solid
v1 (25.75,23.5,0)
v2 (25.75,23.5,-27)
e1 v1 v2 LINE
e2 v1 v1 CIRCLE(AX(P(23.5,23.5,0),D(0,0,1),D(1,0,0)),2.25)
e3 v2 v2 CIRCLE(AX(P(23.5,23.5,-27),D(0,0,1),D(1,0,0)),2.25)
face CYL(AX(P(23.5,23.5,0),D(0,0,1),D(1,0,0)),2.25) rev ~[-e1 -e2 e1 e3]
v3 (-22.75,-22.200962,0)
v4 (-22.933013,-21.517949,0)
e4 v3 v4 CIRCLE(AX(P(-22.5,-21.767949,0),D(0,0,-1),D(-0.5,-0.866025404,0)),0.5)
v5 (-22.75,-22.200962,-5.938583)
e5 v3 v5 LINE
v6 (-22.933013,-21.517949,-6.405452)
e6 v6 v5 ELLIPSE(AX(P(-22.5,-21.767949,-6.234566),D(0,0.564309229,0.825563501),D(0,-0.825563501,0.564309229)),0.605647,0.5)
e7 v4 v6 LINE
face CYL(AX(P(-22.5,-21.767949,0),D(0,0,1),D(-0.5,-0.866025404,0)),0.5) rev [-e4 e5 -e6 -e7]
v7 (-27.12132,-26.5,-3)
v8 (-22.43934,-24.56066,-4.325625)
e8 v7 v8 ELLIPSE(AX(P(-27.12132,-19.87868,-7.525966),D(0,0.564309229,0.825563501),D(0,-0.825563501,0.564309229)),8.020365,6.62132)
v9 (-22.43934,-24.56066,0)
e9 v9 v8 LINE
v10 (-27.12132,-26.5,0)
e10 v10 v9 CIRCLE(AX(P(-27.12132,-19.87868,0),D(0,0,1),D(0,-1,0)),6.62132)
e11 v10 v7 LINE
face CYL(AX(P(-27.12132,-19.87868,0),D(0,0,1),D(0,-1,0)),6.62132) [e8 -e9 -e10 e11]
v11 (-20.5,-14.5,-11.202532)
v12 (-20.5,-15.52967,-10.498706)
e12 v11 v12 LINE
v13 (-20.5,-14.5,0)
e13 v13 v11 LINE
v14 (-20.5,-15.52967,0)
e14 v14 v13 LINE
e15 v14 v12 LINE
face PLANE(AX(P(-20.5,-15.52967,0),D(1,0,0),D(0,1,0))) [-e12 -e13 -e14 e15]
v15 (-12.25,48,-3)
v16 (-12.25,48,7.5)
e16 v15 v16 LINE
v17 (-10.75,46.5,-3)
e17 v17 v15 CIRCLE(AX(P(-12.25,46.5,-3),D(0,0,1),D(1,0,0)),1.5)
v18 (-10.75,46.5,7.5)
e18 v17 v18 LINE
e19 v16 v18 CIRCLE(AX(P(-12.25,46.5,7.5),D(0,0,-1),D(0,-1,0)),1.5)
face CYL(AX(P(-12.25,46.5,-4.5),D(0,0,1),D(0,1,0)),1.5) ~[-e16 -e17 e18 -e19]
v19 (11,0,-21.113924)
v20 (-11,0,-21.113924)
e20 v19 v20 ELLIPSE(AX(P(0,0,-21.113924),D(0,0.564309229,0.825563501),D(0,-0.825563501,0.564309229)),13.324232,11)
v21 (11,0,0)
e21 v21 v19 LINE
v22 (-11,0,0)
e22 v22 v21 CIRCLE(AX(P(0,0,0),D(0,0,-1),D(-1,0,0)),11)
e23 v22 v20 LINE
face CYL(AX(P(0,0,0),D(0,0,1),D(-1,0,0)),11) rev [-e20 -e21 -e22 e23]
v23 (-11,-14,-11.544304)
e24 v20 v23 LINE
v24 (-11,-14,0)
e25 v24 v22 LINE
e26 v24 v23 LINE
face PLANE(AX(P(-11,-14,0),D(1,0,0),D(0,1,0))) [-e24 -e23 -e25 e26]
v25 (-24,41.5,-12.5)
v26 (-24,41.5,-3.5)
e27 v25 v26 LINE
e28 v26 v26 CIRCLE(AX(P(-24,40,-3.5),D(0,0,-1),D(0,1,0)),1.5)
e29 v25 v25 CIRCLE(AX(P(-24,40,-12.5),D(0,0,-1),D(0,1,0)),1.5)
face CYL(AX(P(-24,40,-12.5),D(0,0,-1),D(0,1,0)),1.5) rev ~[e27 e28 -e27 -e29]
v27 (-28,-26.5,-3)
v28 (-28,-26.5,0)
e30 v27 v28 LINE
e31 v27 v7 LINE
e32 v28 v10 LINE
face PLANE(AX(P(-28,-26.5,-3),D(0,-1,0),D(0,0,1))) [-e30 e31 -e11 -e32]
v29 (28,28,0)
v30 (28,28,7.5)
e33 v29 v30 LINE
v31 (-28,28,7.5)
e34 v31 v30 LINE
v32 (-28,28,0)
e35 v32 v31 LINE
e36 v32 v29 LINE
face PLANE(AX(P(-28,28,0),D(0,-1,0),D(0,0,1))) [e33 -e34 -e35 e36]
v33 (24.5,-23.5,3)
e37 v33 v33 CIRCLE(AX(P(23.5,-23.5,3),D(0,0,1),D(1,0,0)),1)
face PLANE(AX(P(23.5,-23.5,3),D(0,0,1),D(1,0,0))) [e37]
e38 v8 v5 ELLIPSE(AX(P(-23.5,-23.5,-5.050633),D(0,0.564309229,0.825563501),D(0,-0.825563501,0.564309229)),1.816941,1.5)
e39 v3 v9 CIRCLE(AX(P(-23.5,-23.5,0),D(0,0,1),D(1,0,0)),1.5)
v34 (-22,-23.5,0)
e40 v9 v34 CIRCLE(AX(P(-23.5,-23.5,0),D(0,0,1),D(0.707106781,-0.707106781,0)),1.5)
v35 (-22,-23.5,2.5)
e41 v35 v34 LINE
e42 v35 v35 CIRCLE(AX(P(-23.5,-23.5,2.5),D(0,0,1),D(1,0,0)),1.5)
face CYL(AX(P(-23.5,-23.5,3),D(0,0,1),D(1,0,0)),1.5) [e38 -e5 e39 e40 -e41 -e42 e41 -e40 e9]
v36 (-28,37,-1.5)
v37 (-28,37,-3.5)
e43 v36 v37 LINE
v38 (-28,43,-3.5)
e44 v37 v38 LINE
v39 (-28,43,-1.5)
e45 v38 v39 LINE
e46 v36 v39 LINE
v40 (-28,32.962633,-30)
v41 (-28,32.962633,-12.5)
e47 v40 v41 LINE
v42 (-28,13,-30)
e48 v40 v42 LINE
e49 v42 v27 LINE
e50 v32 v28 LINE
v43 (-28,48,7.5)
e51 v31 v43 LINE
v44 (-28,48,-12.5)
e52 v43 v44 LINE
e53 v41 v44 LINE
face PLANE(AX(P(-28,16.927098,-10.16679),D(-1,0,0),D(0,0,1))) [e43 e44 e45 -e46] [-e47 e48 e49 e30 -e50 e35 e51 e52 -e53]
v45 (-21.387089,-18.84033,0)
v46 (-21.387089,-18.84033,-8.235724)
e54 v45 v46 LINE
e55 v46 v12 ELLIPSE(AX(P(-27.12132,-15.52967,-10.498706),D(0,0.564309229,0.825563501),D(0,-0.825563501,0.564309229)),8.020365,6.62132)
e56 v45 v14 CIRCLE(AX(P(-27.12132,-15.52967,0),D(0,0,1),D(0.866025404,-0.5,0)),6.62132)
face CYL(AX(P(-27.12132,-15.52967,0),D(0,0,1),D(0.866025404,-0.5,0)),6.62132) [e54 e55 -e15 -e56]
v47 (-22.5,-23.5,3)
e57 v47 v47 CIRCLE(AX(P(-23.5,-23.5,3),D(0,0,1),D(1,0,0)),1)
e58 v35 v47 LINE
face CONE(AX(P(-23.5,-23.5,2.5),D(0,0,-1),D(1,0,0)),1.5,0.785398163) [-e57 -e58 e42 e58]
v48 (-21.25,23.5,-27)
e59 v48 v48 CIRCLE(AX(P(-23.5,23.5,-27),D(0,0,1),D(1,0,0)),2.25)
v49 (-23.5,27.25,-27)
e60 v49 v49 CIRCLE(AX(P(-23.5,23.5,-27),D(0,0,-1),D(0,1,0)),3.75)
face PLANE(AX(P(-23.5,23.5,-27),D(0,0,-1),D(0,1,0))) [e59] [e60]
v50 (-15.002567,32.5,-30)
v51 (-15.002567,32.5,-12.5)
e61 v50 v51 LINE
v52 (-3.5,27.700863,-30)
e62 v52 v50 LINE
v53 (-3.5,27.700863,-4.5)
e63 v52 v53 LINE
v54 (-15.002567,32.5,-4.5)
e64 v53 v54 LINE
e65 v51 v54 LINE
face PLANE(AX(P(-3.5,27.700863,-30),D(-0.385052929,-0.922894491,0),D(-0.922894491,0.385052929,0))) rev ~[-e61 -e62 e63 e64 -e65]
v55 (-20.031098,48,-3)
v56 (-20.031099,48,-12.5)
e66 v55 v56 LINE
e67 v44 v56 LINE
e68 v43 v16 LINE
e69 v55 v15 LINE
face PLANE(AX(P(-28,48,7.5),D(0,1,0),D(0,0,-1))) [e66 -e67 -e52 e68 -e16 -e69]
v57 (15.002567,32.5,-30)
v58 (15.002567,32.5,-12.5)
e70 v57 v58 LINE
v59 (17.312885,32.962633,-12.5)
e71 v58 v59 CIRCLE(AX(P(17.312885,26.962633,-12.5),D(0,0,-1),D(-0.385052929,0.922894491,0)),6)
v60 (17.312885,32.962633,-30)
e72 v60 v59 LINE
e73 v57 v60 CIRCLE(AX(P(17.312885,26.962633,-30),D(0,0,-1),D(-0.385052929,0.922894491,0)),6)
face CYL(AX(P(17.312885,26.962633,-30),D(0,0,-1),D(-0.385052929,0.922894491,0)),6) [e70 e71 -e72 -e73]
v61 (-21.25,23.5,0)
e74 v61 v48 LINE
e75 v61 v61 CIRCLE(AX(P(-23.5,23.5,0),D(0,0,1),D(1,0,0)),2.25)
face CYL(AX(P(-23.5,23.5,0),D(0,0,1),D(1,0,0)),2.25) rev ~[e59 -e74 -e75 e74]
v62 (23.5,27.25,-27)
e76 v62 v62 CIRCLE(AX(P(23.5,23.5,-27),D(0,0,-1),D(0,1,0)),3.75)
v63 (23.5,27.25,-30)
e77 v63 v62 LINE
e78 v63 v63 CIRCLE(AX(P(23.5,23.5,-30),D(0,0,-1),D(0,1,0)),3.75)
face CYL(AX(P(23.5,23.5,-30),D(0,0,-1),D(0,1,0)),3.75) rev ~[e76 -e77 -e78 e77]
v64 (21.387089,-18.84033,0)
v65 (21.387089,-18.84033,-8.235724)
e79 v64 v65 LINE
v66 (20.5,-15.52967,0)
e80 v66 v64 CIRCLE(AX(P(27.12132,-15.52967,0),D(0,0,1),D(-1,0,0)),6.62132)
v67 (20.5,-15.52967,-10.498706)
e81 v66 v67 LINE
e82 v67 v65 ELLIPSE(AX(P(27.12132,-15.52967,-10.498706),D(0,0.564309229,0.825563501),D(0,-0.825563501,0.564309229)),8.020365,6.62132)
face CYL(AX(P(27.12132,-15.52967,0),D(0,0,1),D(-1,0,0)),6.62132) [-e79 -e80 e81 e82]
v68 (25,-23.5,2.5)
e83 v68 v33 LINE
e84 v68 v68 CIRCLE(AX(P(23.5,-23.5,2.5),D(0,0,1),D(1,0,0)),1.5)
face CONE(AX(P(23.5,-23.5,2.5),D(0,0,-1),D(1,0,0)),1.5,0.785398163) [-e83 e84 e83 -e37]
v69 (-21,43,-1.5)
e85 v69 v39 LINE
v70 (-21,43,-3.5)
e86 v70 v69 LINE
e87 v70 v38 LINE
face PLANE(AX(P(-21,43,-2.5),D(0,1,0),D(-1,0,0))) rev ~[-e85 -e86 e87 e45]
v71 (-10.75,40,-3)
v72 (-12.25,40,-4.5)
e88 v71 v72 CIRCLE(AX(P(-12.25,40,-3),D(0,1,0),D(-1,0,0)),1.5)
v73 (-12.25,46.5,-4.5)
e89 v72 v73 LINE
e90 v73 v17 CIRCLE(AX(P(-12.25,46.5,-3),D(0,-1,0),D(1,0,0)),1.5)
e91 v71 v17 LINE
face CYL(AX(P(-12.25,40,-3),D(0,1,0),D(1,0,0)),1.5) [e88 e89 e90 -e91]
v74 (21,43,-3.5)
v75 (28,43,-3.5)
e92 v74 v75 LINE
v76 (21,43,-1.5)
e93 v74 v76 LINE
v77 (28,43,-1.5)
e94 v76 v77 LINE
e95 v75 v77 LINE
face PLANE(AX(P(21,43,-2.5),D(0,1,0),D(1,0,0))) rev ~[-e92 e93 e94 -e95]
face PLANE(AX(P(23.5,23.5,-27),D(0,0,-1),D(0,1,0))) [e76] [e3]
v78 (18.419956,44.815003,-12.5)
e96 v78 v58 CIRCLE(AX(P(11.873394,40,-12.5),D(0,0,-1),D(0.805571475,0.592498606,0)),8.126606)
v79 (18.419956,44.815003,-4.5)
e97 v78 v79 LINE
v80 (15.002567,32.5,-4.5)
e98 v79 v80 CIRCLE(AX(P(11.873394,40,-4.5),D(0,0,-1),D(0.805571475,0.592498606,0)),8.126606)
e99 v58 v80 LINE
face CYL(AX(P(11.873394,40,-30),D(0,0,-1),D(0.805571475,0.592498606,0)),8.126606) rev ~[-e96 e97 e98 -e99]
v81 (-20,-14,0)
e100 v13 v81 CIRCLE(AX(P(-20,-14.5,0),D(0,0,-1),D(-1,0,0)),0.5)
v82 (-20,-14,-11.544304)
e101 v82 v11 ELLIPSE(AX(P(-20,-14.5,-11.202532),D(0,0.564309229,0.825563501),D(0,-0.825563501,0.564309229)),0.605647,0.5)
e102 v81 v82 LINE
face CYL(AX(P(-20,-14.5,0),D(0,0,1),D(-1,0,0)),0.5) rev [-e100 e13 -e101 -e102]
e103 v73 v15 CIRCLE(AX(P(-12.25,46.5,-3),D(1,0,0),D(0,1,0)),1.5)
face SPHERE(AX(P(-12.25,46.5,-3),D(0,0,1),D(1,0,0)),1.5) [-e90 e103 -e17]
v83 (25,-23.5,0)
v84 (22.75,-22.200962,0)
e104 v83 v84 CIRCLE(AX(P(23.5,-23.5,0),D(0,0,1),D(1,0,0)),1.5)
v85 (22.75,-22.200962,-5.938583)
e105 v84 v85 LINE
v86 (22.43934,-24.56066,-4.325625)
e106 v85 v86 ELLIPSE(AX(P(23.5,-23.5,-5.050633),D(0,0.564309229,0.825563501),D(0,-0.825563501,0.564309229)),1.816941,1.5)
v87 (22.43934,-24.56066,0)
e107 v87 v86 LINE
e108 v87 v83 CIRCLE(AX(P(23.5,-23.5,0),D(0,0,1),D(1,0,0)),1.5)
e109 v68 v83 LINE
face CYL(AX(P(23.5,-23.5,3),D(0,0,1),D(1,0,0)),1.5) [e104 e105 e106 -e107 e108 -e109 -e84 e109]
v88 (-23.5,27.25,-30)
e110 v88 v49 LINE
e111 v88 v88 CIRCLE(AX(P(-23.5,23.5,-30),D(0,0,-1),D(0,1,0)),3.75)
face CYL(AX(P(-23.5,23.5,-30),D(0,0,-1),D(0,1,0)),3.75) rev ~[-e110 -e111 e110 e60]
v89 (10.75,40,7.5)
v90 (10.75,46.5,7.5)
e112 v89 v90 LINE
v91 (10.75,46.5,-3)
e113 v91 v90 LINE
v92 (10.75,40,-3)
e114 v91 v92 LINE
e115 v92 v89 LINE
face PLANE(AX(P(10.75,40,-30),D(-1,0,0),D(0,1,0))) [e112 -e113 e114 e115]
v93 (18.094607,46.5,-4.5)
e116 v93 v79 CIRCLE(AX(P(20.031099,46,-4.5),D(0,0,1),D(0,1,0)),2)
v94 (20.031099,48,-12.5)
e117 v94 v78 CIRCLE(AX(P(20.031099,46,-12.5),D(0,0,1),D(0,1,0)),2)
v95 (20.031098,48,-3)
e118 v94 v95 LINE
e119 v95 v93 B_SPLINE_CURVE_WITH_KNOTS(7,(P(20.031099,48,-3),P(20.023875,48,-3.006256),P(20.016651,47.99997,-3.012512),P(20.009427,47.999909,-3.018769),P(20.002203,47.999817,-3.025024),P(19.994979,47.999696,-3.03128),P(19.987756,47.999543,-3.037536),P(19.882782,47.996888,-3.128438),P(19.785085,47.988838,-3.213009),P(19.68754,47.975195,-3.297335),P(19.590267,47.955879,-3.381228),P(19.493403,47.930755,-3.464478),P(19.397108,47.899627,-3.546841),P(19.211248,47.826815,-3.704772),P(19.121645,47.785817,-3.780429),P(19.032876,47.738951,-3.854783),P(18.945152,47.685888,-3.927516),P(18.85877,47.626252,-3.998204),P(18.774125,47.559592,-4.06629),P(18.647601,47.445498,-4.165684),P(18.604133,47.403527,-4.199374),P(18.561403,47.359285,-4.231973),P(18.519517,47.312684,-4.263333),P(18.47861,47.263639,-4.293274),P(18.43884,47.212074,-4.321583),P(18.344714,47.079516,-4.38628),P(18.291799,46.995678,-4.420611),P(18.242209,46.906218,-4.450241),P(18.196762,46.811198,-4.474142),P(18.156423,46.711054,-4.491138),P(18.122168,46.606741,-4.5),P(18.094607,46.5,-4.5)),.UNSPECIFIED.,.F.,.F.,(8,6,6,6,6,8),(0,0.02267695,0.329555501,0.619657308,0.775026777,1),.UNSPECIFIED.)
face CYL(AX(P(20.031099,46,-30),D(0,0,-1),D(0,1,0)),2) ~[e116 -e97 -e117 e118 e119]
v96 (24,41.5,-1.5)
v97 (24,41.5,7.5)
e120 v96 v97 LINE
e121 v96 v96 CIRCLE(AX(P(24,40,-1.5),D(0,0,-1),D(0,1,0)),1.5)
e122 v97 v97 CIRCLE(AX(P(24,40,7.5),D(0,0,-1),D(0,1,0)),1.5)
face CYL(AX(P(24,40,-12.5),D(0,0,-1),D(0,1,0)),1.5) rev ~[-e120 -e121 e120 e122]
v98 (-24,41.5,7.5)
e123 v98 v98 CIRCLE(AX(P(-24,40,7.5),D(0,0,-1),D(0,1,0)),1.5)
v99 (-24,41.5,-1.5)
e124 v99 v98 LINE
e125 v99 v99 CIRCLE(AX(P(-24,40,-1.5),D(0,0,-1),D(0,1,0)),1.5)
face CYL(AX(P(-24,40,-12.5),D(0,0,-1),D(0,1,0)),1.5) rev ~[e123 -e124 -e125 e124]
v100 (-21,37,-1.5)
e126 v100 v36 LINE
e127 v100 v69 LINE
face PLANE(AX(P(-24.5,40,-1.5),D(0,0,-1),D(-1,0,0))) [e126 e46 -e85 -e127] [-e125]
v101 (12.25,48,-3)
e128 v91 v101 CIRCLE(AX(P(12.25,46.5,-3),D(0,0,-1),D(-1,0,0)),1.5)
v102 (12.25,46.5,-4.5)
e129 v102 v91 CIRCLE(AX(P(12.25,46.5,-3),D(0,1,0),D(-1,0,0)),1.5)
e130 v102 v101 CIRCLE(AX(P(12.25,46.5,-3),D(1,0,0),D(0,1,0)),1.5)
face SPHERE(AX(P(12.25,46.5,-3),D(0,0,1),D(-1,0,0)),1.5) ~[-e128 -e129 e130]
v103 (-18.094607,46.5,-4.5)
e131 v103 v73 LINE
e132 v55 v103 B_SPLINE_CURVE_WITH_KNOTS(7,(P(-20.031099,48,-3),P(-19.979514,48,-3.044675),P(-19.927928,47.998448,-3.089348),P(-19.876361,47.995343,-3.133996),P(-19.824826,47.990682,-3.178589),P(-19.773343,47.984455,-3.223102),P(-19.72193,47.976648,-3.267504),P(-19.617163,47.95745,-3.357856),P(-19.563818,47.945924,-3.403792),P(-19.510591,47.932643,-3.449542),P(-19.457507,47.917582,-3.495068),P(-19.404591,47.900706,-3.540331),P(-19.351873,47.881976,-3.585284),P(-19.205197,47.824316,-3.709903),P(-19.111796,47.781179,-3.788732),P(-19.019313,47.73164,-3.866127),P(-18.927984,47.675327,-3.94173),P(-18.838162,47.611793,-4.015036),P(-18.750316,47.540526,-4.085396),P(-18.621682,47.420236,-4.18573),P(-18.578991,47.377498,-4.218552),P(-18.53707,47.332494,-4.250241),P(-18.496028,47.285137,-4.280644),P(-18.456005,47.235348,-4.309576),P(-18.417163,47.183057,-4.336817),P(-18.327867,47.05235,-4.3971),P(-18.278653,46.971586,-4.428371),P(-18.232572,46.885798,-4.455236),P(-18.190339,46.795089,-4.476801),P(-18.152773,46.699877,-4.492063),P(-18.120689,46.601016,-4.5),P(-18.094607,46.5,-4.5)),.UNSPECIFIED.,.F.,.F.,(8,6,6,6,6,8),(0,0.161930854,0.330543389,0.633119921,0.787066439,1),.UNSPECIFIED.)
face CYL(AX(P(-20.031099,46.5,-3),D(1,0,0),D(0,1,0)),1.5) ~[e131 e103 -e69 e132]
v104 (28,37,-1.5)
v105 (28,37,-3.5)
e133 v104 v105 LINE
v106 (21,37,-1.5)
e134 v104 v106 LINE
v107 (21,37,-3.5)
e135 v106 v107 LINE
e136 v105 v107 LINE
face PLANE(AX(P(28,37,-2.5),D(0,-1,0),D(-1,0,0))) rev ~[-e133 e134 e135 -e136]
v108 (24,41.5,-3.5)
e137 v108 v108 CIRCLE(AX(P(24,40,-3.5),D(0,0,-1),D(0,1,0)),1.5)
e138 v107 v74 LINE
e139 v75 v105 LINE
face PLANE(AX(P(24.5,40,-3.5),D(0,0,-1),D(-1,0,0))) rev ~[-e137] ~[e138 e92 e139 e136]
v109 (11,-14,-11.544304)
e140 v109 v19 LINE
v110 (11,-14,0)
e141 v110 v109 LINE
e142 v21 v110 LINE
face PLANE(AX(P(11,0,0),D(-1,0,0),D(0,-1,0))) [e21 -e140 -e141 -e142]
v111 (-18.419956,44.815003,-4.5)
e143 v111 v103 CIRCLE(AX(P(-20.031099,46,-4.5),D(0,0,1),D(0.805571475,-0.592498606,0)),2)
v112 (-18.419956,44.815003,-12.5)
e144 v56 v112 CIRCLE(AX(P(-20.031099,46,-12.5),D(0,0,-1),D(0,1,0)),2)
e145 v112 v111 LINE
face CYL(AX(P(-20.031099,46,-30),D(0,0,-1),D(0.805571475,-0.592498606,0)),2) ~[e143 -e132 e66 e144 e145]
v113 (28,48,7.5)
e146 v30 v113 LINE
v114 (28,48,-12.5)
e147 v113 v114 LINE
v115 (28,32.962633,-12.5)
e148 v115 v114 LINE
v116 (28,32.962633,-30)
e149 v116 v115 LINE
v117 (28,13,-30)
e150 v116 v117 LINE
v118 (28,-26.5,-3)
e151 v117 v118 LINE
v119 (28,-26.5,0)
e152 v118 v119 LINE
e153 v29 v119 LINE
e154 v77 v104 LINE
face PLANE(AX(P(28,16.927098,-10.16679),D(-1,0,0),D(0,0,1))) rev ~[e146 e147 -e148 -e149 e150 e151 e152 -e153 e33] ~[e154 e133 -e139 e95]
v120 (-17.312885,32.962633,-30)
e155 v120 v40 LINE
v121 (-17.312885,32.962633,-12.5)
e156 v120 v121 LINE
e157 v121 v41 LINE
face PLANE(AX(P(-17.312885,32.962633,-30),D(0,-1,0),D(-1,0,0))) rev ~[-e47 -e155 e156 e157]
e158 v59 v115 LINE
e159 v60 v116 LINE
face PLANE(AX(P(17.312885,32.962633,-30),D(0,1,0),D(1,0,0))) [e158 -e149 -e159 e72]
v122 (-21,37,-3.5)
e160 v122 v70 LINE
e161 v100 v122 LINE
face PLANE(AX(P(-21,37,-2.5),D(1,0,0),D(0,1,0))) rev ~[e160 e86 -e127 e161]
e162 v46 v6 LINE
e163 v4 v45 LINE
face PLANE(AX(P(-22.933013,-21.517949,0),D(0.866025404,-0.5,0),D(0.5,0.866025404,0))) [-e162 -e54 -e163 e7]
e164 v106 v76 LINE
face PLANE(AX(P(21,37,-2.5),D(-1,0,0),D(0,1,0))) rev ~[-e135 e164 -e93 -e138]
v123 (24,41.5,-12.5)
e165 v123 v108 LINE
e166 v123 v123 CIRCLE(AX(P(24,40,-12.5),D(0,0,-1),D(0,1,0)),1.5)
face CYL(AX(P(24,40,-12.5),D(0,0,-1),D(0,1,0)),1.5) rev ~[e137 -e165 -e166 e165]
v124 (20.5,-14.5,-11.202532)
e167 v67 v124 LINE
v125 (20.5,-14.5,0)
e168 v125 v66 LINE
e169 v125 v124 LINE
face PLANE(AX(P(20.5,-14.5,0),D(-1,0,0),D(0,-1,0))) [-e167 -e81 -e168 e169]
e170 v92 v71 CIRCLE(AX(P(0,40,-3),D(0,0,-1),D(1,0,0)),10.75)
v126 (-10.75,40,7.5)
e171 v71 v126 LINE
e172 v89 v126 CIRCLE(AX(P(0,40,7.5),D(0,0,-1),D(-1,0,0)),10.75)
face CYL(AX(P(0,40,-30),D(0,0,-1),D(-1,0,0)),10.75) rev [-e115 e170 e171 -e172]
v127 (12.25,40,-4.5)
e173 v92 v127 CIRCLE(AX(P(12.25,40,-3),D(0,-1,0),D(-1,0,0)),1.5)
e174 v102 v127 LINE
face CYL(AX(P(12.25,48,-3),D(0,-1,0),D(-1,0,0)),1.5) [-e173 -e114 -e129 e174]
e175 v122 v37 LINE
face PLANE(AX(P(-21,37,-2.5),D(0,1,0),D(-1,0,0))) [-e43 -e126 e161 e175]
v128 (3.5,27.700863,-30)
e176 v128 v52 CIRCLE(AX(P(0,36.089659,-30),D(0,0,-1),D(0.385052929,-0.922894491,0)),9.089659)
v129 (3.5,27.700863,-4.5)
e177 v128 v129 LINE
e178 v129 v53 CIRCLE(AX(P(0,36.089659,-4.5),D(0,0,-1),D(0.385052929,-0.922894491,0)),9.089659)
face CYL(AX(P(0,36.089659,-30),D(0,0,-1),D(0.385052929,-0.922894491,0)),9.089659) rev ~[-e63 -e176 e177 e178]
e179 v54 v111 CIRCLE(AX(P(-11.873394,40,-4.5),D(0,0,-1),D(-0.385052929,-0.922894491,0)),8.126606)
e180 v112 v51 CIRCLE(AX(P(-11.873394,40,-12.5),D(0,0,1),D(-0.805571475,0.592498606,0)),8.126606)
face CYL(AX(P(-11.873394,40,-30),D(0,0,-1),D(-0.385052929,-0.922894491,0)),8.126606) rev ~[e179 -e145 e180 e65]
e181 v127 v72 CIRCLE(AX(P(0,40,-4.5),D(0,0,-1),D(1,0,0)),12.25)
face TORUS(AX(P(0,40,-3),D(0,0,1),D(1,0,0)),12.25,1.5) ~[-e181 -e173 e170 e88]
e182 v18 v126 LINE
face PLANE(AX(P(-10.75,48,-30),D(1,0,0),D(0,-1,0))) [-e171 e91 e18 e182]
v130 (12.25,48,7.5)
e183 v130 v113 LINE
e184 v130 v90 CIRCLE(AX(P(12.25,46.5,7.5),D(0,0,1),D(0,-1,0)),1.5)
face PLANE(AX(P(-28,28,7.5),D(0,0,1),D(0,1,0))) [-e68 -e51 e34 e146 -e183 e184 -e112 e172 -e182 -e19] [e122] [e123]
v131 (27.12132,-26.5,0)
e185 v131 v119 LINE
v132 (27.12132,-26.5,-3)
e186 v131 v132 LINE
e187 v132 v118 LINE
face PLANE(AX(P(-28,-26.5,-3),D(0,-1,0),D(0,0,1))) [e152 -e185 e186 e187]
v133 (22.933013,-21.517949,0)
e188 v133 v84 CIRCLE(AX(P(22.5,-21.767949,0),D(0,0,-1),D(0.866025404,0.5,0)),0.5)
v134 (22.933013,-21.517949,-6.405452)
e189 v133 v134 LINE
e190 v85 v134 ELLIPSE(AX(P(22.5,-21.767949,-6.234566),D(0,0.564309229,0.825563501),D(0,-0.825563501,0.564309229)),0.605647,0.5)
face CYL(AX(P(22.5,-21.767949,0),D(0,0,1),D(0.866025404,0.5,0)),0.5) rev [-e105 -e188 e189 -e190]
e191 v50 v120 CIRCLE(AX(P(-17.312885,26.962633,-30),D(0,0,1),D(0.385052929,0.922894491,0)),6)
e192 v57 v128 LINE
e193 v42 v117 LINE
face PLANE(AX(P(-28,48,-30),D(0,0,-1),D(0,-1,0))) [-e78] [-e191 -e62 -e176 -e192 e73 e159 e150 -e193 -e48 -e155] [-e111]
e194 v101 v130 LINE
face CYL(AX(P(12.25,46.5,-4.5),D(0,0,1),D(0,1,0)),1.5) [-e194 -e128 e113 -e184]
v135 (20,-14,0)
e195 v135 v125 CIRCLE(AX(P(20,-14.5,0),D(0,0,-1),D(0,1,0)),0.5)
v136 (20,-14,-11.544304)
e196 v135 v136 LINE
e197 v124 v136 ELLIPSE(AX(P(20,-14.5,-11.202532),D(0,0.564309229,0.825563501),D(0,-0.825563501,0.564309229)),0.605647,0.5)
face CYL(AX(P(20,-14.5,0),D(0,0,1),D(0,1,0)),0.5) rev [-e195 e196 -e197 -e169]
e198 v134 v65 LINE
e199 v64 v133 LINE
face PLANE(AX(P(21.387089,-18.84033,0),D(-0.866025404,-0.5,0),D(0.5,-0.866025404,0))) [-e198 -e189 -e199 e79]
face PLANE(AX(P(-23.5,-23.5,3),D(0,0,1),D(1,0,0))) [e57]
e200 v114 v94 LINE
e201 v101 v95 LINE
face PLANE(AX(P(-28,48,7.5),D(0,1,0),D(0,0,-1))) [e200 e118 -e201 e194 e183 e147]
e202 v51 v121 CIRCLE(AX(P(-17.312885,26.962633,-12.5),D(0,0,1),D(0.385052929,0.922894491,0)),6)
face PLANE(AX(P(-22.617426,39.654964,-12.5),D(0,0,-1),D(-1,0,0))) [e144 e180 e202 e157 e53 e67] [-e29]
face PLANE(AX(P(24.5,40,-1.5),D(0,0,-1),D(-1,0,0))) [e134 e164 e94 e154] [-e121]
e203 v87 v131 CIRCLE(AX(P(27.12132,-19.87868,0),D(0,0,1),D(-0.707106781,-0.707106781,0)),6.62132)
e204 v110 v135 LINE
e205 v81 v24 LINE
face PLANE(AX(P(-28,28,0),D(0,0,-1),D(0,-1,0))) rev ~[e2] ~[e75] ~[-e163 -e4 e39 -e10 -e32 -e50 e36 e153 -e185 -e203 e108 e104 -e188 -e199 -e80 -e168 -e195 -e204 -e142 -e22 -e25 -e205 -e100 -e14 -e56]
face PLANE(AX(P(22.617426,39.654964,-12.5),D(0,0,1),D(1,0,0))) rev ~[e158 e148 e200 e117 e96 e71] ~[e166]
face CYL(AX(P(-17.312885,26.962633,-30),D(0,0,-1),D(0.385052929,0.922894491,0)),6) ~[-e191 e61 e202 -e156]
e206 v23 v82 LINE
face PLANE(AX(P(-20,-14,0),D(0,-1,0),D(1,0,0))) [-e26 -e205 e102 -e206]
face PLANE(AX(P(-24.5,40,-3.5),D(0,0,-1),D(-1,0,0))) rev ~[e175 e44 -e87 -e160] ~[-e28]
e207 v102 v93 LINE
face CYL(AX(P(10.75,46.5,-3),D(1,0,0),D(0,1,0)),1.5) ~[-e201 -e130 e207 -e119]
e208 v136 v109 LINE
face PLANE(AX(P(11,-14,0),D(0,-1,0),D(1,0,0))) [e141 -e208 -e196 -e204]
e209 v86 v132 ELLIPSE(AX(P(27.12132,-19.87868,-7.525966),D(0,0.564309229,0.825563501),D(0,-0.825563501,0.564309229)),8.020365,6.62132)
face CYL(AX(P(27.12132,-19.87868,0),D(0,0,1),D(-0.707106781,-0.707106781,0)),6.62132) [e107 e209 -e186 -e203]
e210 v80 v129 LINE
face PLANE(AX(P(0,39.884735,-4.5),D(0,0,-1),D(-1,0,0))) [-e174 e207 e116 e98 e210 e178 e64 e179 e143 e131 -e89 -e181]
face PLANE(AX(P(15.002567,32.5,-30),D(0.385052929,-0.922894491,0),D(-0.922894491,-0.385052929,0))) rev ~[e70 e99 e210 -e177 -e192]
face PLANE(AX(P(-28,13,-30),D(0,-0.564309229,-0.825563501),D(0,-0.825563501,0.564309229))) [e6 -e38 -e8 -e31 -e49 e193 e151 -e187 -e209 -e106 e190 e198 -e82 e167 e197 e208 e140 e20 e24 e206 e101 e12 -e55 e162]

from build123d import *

# Parameters (mm, degrees)
BOSS_EXTRUDE1_DEPTH      = 28
BOSS_EXTRUDE1_DEPTH_BACK = 28
CUT_EXTRUDE1_REACH       = 65.151
BOSS_EXTRUDE2_START      = 3
SKETCH5_R                = 1.5000000000000009
BOSS_EXTRUDE2_DEPTH      = 3
CHAMFER1_SIZE            = 0.5
CUT_EXTRUDE2_REACH       = 65.151
SKETCH6_R                = 2.2499999999999987
SKETCH7_R                = 3.7499999999999996
CUT_EXTRUDE3_DEPTH       = 3
CUT_EXTRUDE4_REACH       = 69.039
CUT_EXTRUDE5_DEPTH       = 25.5
FILLET1_R                = 1.5
CUT_EXTRUDE6_DEPTH       = 17.5
CUT_EXTRUDE7_REACH       = 61.059
SKETCH11_R               = 1.5000000000000009
SKETCH11_R_2             = 1.4999999999999987
SKETCH12_W               = 6.9999999999999964
SKETCH12_H               = 5.999999999999993
CUT_EXTRUDE8_DEPTH       = 1


with BuildPart() as part:
    # Sketch3 → Boss-Extrude1 (new, two sides: drawn at the far end of the back side and taken through both)
    with BuildSketch(Plane(origin=(0, 0, 0), x_dir=(0, 0, -1), z_dir=(1, 0, 0)).offset(-BOSS_EXTRUDE1_DEPTH_BACK)):
        Polygon((0, -26.500000000000004), (0, 0), (0, 28.000000000000007), (-7.499999999999999, 28.000000000000007), (-7.5, 48), (29.999999999999996, 48.000000000000014), (30.000000000000004, 13.000000000000009), (3, -26.500000000000004), align=None)
    extrude(amount=BOSS_EXTRUDE1_DEPTH + BOSS_EXTRUDE1_DEPTH_BACK)

    # Cut-Extrude1: up to this plane
    cut_extrude1_end = Plane(origin=(27.999999999999993, 13.000000000000009, -30.000000000000004), z_dir=(0, 0.5643092286475101, 0.8255635011695056))
    # Sketch4 → Cut-Extrude1 (cut, up to the surface)
    with BuildSketch(Plane.XY, mode=Mode.PRIVATE) as cut_extrude1_sk1:
        with BuildLine():
            Line((-22.93301270189222, -21.517949192431118), (-21.387088719442275, -18.84033031018861))
            ThreePointArc((-21.387088719442275, -18.84033031018861), (-20.725616019582173, -17.24339394704681), (-20.5, -15.529670138408827))
            Line((-20.5, -15.529670138408827), (-20.5, -14.499999999999995))
            ThreePointArc((-20.5, -14.499999999999995), (-20.353553390593273, -14.146446609406722), (-20, -13.999999999999995))
            Line((-20, -13.999999999999995), (-10.999999999999998, -13.999999999999995))
            Line((-10.999999999999998, -13.999999999999995), (-11, -1.35e-15))
            ThreePointArc((-11, -1.35e-15), (-1.179e-14, 11), (10.999999999999993, 1.253e-14))
            Line((10.999999999999993, 1.253e-14), (10.999999999999991, -13.999999999999968))
            Line((10.999999999999991, -13.999999999999968), (20.000000000000007, -13.99999999999999))
            ThreePointArc((20.000000000000007, -13.99999999999999), (20.353553390593284, -14.146446609406715), (20.500000000000014, -14.499999999999991))
            Line((20.500000000000014, -14.499999999999991), (20.500000000000014, -15.529670138408822))
            ThreePointArc((20.500000000000014, -15.529670138408822), (20.725616019582187, -17.2433939470468), (21.38708871944229, -18.8403303101886))
            Line((21.38708871944229, -18.8403303101886), (22.933012701892235, -21.51794919243111))
            ThreePointArc((22.933012701892235, -21.51794919243111), (22.98296291314455, -21.897358714982374), (22.750000000000018, -22.200961894323335))
            ThreePointArc((22.750000000000018, -22.200961894323335), (22.012832707939275, -23.304210711669903), (22.43933982822019, -24.560660171779812))
            ThreePointArc((22.43933982822019, -24.560660171779812), (24.587450747697442, -25.99598200005571), (27.12132034355963, -26.499999999999993))
            Line((27.12132034355963, -26.499999999999993), (-27.12132034355962, -26.5))
            ThreePointArc((-27.12132034355962, -26.5), (-24.58745074769743, -25.99598200005572), (-22.43933982822018, -24.56066017177982))
            ThreePointArc((-22.43933982822018, -24.56066017177982), (-22.01283270793929, -23.30421071166992), (-22.750000000000004, -22.200961894323342))
            ThreePointArc((-22.750000000000004, -22.200961894323342), (-22.982962913144537, -21.89735871498238), (-22.93301270189222, -21.517949192431118))
        make_face()
    cut_extrude1_tool1 = split(extrude(cut_extrude1_sk1.sketch, amount=-CUT_EXTRUDE1_REACH, mode=Mode.PRIVATE), bisect_by=cut_extrude1_end, keep=Keep.BOTH, mode=Mode.PRIVATE)
    add(cut_extrude1_tool1.solids().sort_by_distance((0, -11.913251, 0))[0], mode=Mode.SUBTRACT)

    # Sketch5 → Boss-Extrude2 (add)
    with BuildSketch(Plane.XY.offset(BOSS_EXTRUDE2_START)):
        with Locations((23.499999999999996, -23.5)):
            Circle(SKETCH5_R)
        with Locations((-23.500000000000004, -23.5)):
            Circle(SKETCH5_R)
    extrude(amount=-BOSS_EXTRUDE2_DEPTH)

    # Chamfer1
    chamfer1_edges = [part.edges().sort_by_distance(p)[0] for p in [
        (21.999999999999996, -23.5, 3),
        (-25.000000000000004, -23.5, 3),
    ]]
    chamfer(chamfer1_edges, length=CHAMFER1_SIZE)

    # Sketch6 → Cut-Extrude2 (cut, up to next)
    with BuildSketch(Plane.XY, mode=Mode.PRIVATE) as cut_extrude2_sk1:
        with Locations((23.499999999999996, 23.5)):
            Circle(SKETCH6_R)
    cut_extrude2_tool1 = extrude(cut_extrude2_sk1.sketch, amount=-CUT_EXTRUDE2_REACH, mode=Mode.PRIVATE) & part.part
    # Sketch6 → Cut-Extrude2 (cut, up to next)
    with BuildSketch(Plane.XY, mode=Mode.PRIVATE) as cut_extrude2_sk2:
        with Locations((-23.500000000000004, 23.5)):
            Circle(SKETCH6_R)
    cut_extrude2_tool2 = extrude(cut_extrude2_sk2.sketch, amount=-CUT_EXTRUDE2_REACH, mode=Mode.PRIVATE) & part.part
    add(cut_extrude2_tool1.solids().sort_by_distance((23.5, 23.5, 0))[0], mode=Mode.SUBTRACT)
    add(cut_extrude2_tool2.solids().sort_by_distance((-23.5, 23.5, 0))[0], mode=Mode.SUBTRACT)

    # Sketch7 → Cut-Extrude3 (cut)
    with BuildSketch(Plane(origin=(0, 5.95e-15, -30.000000000000007), x_dir=(-1, 0, 0), z_dir=(0, 1.7e-16, -1))):
        with Locations(Location((-23.499999999999996, 23.5, 0), (0, 0, 90))):
            Circle(SKETCH7_R)
        with Locations(Location((23.500000000000004, 23.5, 0), (0, 0, 90))):
            Circle(SKETCH7_R)
    extrude(amount=-CUT_EXTRUDE3_DEPTH, mode=Mode.SUBTRACT)

    # Sketch8 → Cut-Extrude4 (cut, up to next)
    with BuildSketch(Plane(origin=(0, 5.95e-15, -30.000000000000007), x_dir=(-1, 0, 0), z_dir=(0, 2e-16, -1)), mode=Mode.PRIVATE) as cut_extrude4_sk1:
        with BuildLine():
            Line((-10.749999999999991, 40.000000000000014), (-10.749999999999993, 48.00000000000001))
            Line((-10.749999999999993, 48.00000000000001), (10.749999999999995, 48.00000000000001))
            Line((10.749999999999995, 48.00000000000001), (10.750000000000004, 40.000000000000014))
            ThreePointArc((10.750000000000004, 40.000000000000014), (4.96e-15, 29.250000000000014), (-10.749999999999991, 40.000000000000014))
        make_face()
    cut_extrude4_tool1 = extrude(cut_extrude4_sk1.sketch, amount=-CUT_EXTRUDE4_REACH, mode=Mode.PRIVATE) & part.part
    add(cut_extrude4_tool1.solids().sort_by_distance((0, 39.603429, -30))[0], mode=Mode.SUBTRACT)

    # Sketch9 → Cut-Extrude5 (cut)
    with BuildSketch(Plane(origin=(0, 5.95e-15, -30.000000000000007), x_dir=(-1, 0, 0), z_dir=(0, 2e-16, -1))):
        with BuildLine():
            Line((3.5000000000000053, 27.700862818523312), (15.002567384846198, 32.500000000000014))
            ThreePointArc((15.002567384846198, 32.500000000000014), (19.704089145058386, 37.826997771928276), (18.41995596409805, 44.815002787484154))
            ThreePointArc((18.41995596409805, 44.815002787484154), (18.246442865607545, 46.902775048106754), (20.03109891440682, 48.00000000000001))
            Line((20.03109891440682, 48.00000000000001), (-20.031098914406805, 48.000000000000014))
            ThreePointArc((-20.031098914406805, 48.000000000000014), (-18.24644286560753, 46.90277504810676), (-18.419955964098037, 44.81500278748416))
            ThreePointArc((-18.419955964098037, 44.81500278748416), (-19.70408914505838, 37.82699777192828), (-15.002567384846188, 32.500000000000014))
            Line((-15.002567384846188, 32.500000000000014), (-3.4999999999999947, 27.700862818523312))
            ThreePointArc((-3.4999999999999947, 27.700862818523312), (4.59e-15, 27.00000000000002), (3.5000000000000053, 27.700862818523312))
        make_face()
    extrude(amount=-CUT_EXTRUDE5_DEPTH, mode=Mode.SUBTRACT)

    # Fillet1
    fillet1_edges = [part.edges().sort_by_distance(p)[0] for p in [
        (10.749999999999993, 48.00000000000001, 1.5000000000000036),
        (-10.749999999999995, 48.00000000000001, 1.5000000000000036),
        (-10.75, 44.000000000000014, -4.499999999999998),
        (-15.390549457203406, 48.00000000000001, -4.499999999999997),
        (15.390549457203399, 48.000000000000014, -4.499999999999997),
        (-3.8e-15, 29.250000000000014, -4.500000000000002),
        (10.749999999999993, 44.000000000000014, -4.499999999999999),
    ]]
    fillet(fillet1_edges, radius=FILLET1_R)

    # Sketch10 → Cut-Extrude6 (cut)
    with BuildSketch(Plane(origin=(0, 5.95e-15, -30.000000000000007), x_dir=(-1, 0, 0), z_dir=(0, 2e-16, -1))):
        with BuildLine():
            Line((17.312884960931758, 32.96263305373123), (28.000000000000007, 32.962633053731224))
            Line((28.000000000000007, 32.962633053731224), (28.000000000000007, 48.00000000000001))
            Line((28.000000000000007, 48.00000000000001), (20.03109891440682, 48.00000000000001))
            ThreePointArc((20.03109891440682, 48.00000000000001), (18.24644286560754, 46.902775048106754), (18.41995596409805, 44.815002787484154))
            ThreePointArc((18.41995596409805, 44.815002787484154), (19.704089145058383, 37.826997771928276), (15.002567384846198, 32.500000000000014))
            ThreePointArc((15.002567384846198, 32.500000000000014), (16.1347936396864, 32.84583803391052), (17.312884960931758, 32.96263305373123))
        make_face()
        with BuildLine():
            Line((-17.312884960931758, 32.96263305373123), (-28.000000000000007, 32.962633053731224))
            Line((-28.000000000000007, 32.962633053731224), (-28.000000000000007, 48.00000000000001))
            Line((-28.000000000000007, 48.00000000000001), (-20.03109891440682, 48.00000000000001))
            ThreePointArc((-20.03109891440682, 48.00000000000001), (-18.24644286560754, 46.902775048106754), (-18.41995596409805, 44.815002787484154))
            ThreePointArc((-18.41995596409805, 44.815002787484154), (-19.704089145058383, 37.826997771928276), (-15.002567384846198, 32.500000000000014))
            ThreePointArc((-15.002567384846198, 32.500000000000014), (-16.1347936396864, 32.84583803391052), (-17.312884960931758, 32.96263305373123))
        make_face()
    extrude(amount=-CUT_EXTRUDE6_DEPTH, mode=Mode.SUBTRACT)

    # Sketch11 → Cut-Extrude7 (cut, up to next)
    with BuildSketch(Plane(origin=(0, 5.4e-16, -12.500000000000002), x_dir=(-1, 0, 0), z_dir=(0, 4e-17, -1)), mode=Mode.PRIVATE) as cut_extrude7_sk1:
        with Locations(Location((24.000000000000007, 40.00000000000002, 0), (0, 0, 90))):
            Circle(SKETCH11_R)
    cut_extrude7_tool1 = extrude(cut_extrude7_sk1.sketch, amount=-CUT_EXTRUDE7_REACH, mode=Mode.PRIVATE) & part.part
    # Sketch11 → Cut-Extrude7 (cut, up to next)
    with BuildSketch(Plane(origin=(0, 5.4e-16, -12.500000000000002), x_dir=(-1, 0, 0), z_dir=(0, 4e-17, -1)), mode=Mode.PRIVATE) as cut_extrude7_sk2:
        with Locations(Location((-24, 39.99999999999999, 0), (0, 0, 90))):
            Circle(SKETCH11_R_2)
    cut_extrude7_tool2 = extrude(cut_extrude7_sk2.sketch, amount=-CUT_EXTRUDE7_REACH, mode=Mode.PRIVATE) & part.part
    add(cut_extrude7_tool1.solids().sort_by_distance((-24, 40, -12.5))[0], mode=Mode.SUBTRACT)
    add(cut_extrude7_tool2.solids().sort_by_distance((24, 40, -12.5))[0], mode=Mode.SUBTRACT)

    # Sketch12 → Cut-Extrude8 (cut, symmetric)
    with BuildSketch(Plane(origin=(0, 1.1e-16, -2.5000000000000027), x_dir=(-1, 0, 0), z_dir=(0, 4e-17, -1))):
        with Locations((24.500000000000007, 40.00000000000003)):
            Rectangle(SKETCH12_W, SKETCH12_H)
        Polygon((-28.000000000000007, 43.000000000000014), (-28.000000000000007, 37.00000000000002), (-21.00000000000001, 37.00000000000003), (-21.00000000000001, 43.000000000000014), align=None)
    extrude(amount=CUT_EXTRUDE8_DEPTH, both=True, mode=Mode.SUBTRACT)


solid = part.part
